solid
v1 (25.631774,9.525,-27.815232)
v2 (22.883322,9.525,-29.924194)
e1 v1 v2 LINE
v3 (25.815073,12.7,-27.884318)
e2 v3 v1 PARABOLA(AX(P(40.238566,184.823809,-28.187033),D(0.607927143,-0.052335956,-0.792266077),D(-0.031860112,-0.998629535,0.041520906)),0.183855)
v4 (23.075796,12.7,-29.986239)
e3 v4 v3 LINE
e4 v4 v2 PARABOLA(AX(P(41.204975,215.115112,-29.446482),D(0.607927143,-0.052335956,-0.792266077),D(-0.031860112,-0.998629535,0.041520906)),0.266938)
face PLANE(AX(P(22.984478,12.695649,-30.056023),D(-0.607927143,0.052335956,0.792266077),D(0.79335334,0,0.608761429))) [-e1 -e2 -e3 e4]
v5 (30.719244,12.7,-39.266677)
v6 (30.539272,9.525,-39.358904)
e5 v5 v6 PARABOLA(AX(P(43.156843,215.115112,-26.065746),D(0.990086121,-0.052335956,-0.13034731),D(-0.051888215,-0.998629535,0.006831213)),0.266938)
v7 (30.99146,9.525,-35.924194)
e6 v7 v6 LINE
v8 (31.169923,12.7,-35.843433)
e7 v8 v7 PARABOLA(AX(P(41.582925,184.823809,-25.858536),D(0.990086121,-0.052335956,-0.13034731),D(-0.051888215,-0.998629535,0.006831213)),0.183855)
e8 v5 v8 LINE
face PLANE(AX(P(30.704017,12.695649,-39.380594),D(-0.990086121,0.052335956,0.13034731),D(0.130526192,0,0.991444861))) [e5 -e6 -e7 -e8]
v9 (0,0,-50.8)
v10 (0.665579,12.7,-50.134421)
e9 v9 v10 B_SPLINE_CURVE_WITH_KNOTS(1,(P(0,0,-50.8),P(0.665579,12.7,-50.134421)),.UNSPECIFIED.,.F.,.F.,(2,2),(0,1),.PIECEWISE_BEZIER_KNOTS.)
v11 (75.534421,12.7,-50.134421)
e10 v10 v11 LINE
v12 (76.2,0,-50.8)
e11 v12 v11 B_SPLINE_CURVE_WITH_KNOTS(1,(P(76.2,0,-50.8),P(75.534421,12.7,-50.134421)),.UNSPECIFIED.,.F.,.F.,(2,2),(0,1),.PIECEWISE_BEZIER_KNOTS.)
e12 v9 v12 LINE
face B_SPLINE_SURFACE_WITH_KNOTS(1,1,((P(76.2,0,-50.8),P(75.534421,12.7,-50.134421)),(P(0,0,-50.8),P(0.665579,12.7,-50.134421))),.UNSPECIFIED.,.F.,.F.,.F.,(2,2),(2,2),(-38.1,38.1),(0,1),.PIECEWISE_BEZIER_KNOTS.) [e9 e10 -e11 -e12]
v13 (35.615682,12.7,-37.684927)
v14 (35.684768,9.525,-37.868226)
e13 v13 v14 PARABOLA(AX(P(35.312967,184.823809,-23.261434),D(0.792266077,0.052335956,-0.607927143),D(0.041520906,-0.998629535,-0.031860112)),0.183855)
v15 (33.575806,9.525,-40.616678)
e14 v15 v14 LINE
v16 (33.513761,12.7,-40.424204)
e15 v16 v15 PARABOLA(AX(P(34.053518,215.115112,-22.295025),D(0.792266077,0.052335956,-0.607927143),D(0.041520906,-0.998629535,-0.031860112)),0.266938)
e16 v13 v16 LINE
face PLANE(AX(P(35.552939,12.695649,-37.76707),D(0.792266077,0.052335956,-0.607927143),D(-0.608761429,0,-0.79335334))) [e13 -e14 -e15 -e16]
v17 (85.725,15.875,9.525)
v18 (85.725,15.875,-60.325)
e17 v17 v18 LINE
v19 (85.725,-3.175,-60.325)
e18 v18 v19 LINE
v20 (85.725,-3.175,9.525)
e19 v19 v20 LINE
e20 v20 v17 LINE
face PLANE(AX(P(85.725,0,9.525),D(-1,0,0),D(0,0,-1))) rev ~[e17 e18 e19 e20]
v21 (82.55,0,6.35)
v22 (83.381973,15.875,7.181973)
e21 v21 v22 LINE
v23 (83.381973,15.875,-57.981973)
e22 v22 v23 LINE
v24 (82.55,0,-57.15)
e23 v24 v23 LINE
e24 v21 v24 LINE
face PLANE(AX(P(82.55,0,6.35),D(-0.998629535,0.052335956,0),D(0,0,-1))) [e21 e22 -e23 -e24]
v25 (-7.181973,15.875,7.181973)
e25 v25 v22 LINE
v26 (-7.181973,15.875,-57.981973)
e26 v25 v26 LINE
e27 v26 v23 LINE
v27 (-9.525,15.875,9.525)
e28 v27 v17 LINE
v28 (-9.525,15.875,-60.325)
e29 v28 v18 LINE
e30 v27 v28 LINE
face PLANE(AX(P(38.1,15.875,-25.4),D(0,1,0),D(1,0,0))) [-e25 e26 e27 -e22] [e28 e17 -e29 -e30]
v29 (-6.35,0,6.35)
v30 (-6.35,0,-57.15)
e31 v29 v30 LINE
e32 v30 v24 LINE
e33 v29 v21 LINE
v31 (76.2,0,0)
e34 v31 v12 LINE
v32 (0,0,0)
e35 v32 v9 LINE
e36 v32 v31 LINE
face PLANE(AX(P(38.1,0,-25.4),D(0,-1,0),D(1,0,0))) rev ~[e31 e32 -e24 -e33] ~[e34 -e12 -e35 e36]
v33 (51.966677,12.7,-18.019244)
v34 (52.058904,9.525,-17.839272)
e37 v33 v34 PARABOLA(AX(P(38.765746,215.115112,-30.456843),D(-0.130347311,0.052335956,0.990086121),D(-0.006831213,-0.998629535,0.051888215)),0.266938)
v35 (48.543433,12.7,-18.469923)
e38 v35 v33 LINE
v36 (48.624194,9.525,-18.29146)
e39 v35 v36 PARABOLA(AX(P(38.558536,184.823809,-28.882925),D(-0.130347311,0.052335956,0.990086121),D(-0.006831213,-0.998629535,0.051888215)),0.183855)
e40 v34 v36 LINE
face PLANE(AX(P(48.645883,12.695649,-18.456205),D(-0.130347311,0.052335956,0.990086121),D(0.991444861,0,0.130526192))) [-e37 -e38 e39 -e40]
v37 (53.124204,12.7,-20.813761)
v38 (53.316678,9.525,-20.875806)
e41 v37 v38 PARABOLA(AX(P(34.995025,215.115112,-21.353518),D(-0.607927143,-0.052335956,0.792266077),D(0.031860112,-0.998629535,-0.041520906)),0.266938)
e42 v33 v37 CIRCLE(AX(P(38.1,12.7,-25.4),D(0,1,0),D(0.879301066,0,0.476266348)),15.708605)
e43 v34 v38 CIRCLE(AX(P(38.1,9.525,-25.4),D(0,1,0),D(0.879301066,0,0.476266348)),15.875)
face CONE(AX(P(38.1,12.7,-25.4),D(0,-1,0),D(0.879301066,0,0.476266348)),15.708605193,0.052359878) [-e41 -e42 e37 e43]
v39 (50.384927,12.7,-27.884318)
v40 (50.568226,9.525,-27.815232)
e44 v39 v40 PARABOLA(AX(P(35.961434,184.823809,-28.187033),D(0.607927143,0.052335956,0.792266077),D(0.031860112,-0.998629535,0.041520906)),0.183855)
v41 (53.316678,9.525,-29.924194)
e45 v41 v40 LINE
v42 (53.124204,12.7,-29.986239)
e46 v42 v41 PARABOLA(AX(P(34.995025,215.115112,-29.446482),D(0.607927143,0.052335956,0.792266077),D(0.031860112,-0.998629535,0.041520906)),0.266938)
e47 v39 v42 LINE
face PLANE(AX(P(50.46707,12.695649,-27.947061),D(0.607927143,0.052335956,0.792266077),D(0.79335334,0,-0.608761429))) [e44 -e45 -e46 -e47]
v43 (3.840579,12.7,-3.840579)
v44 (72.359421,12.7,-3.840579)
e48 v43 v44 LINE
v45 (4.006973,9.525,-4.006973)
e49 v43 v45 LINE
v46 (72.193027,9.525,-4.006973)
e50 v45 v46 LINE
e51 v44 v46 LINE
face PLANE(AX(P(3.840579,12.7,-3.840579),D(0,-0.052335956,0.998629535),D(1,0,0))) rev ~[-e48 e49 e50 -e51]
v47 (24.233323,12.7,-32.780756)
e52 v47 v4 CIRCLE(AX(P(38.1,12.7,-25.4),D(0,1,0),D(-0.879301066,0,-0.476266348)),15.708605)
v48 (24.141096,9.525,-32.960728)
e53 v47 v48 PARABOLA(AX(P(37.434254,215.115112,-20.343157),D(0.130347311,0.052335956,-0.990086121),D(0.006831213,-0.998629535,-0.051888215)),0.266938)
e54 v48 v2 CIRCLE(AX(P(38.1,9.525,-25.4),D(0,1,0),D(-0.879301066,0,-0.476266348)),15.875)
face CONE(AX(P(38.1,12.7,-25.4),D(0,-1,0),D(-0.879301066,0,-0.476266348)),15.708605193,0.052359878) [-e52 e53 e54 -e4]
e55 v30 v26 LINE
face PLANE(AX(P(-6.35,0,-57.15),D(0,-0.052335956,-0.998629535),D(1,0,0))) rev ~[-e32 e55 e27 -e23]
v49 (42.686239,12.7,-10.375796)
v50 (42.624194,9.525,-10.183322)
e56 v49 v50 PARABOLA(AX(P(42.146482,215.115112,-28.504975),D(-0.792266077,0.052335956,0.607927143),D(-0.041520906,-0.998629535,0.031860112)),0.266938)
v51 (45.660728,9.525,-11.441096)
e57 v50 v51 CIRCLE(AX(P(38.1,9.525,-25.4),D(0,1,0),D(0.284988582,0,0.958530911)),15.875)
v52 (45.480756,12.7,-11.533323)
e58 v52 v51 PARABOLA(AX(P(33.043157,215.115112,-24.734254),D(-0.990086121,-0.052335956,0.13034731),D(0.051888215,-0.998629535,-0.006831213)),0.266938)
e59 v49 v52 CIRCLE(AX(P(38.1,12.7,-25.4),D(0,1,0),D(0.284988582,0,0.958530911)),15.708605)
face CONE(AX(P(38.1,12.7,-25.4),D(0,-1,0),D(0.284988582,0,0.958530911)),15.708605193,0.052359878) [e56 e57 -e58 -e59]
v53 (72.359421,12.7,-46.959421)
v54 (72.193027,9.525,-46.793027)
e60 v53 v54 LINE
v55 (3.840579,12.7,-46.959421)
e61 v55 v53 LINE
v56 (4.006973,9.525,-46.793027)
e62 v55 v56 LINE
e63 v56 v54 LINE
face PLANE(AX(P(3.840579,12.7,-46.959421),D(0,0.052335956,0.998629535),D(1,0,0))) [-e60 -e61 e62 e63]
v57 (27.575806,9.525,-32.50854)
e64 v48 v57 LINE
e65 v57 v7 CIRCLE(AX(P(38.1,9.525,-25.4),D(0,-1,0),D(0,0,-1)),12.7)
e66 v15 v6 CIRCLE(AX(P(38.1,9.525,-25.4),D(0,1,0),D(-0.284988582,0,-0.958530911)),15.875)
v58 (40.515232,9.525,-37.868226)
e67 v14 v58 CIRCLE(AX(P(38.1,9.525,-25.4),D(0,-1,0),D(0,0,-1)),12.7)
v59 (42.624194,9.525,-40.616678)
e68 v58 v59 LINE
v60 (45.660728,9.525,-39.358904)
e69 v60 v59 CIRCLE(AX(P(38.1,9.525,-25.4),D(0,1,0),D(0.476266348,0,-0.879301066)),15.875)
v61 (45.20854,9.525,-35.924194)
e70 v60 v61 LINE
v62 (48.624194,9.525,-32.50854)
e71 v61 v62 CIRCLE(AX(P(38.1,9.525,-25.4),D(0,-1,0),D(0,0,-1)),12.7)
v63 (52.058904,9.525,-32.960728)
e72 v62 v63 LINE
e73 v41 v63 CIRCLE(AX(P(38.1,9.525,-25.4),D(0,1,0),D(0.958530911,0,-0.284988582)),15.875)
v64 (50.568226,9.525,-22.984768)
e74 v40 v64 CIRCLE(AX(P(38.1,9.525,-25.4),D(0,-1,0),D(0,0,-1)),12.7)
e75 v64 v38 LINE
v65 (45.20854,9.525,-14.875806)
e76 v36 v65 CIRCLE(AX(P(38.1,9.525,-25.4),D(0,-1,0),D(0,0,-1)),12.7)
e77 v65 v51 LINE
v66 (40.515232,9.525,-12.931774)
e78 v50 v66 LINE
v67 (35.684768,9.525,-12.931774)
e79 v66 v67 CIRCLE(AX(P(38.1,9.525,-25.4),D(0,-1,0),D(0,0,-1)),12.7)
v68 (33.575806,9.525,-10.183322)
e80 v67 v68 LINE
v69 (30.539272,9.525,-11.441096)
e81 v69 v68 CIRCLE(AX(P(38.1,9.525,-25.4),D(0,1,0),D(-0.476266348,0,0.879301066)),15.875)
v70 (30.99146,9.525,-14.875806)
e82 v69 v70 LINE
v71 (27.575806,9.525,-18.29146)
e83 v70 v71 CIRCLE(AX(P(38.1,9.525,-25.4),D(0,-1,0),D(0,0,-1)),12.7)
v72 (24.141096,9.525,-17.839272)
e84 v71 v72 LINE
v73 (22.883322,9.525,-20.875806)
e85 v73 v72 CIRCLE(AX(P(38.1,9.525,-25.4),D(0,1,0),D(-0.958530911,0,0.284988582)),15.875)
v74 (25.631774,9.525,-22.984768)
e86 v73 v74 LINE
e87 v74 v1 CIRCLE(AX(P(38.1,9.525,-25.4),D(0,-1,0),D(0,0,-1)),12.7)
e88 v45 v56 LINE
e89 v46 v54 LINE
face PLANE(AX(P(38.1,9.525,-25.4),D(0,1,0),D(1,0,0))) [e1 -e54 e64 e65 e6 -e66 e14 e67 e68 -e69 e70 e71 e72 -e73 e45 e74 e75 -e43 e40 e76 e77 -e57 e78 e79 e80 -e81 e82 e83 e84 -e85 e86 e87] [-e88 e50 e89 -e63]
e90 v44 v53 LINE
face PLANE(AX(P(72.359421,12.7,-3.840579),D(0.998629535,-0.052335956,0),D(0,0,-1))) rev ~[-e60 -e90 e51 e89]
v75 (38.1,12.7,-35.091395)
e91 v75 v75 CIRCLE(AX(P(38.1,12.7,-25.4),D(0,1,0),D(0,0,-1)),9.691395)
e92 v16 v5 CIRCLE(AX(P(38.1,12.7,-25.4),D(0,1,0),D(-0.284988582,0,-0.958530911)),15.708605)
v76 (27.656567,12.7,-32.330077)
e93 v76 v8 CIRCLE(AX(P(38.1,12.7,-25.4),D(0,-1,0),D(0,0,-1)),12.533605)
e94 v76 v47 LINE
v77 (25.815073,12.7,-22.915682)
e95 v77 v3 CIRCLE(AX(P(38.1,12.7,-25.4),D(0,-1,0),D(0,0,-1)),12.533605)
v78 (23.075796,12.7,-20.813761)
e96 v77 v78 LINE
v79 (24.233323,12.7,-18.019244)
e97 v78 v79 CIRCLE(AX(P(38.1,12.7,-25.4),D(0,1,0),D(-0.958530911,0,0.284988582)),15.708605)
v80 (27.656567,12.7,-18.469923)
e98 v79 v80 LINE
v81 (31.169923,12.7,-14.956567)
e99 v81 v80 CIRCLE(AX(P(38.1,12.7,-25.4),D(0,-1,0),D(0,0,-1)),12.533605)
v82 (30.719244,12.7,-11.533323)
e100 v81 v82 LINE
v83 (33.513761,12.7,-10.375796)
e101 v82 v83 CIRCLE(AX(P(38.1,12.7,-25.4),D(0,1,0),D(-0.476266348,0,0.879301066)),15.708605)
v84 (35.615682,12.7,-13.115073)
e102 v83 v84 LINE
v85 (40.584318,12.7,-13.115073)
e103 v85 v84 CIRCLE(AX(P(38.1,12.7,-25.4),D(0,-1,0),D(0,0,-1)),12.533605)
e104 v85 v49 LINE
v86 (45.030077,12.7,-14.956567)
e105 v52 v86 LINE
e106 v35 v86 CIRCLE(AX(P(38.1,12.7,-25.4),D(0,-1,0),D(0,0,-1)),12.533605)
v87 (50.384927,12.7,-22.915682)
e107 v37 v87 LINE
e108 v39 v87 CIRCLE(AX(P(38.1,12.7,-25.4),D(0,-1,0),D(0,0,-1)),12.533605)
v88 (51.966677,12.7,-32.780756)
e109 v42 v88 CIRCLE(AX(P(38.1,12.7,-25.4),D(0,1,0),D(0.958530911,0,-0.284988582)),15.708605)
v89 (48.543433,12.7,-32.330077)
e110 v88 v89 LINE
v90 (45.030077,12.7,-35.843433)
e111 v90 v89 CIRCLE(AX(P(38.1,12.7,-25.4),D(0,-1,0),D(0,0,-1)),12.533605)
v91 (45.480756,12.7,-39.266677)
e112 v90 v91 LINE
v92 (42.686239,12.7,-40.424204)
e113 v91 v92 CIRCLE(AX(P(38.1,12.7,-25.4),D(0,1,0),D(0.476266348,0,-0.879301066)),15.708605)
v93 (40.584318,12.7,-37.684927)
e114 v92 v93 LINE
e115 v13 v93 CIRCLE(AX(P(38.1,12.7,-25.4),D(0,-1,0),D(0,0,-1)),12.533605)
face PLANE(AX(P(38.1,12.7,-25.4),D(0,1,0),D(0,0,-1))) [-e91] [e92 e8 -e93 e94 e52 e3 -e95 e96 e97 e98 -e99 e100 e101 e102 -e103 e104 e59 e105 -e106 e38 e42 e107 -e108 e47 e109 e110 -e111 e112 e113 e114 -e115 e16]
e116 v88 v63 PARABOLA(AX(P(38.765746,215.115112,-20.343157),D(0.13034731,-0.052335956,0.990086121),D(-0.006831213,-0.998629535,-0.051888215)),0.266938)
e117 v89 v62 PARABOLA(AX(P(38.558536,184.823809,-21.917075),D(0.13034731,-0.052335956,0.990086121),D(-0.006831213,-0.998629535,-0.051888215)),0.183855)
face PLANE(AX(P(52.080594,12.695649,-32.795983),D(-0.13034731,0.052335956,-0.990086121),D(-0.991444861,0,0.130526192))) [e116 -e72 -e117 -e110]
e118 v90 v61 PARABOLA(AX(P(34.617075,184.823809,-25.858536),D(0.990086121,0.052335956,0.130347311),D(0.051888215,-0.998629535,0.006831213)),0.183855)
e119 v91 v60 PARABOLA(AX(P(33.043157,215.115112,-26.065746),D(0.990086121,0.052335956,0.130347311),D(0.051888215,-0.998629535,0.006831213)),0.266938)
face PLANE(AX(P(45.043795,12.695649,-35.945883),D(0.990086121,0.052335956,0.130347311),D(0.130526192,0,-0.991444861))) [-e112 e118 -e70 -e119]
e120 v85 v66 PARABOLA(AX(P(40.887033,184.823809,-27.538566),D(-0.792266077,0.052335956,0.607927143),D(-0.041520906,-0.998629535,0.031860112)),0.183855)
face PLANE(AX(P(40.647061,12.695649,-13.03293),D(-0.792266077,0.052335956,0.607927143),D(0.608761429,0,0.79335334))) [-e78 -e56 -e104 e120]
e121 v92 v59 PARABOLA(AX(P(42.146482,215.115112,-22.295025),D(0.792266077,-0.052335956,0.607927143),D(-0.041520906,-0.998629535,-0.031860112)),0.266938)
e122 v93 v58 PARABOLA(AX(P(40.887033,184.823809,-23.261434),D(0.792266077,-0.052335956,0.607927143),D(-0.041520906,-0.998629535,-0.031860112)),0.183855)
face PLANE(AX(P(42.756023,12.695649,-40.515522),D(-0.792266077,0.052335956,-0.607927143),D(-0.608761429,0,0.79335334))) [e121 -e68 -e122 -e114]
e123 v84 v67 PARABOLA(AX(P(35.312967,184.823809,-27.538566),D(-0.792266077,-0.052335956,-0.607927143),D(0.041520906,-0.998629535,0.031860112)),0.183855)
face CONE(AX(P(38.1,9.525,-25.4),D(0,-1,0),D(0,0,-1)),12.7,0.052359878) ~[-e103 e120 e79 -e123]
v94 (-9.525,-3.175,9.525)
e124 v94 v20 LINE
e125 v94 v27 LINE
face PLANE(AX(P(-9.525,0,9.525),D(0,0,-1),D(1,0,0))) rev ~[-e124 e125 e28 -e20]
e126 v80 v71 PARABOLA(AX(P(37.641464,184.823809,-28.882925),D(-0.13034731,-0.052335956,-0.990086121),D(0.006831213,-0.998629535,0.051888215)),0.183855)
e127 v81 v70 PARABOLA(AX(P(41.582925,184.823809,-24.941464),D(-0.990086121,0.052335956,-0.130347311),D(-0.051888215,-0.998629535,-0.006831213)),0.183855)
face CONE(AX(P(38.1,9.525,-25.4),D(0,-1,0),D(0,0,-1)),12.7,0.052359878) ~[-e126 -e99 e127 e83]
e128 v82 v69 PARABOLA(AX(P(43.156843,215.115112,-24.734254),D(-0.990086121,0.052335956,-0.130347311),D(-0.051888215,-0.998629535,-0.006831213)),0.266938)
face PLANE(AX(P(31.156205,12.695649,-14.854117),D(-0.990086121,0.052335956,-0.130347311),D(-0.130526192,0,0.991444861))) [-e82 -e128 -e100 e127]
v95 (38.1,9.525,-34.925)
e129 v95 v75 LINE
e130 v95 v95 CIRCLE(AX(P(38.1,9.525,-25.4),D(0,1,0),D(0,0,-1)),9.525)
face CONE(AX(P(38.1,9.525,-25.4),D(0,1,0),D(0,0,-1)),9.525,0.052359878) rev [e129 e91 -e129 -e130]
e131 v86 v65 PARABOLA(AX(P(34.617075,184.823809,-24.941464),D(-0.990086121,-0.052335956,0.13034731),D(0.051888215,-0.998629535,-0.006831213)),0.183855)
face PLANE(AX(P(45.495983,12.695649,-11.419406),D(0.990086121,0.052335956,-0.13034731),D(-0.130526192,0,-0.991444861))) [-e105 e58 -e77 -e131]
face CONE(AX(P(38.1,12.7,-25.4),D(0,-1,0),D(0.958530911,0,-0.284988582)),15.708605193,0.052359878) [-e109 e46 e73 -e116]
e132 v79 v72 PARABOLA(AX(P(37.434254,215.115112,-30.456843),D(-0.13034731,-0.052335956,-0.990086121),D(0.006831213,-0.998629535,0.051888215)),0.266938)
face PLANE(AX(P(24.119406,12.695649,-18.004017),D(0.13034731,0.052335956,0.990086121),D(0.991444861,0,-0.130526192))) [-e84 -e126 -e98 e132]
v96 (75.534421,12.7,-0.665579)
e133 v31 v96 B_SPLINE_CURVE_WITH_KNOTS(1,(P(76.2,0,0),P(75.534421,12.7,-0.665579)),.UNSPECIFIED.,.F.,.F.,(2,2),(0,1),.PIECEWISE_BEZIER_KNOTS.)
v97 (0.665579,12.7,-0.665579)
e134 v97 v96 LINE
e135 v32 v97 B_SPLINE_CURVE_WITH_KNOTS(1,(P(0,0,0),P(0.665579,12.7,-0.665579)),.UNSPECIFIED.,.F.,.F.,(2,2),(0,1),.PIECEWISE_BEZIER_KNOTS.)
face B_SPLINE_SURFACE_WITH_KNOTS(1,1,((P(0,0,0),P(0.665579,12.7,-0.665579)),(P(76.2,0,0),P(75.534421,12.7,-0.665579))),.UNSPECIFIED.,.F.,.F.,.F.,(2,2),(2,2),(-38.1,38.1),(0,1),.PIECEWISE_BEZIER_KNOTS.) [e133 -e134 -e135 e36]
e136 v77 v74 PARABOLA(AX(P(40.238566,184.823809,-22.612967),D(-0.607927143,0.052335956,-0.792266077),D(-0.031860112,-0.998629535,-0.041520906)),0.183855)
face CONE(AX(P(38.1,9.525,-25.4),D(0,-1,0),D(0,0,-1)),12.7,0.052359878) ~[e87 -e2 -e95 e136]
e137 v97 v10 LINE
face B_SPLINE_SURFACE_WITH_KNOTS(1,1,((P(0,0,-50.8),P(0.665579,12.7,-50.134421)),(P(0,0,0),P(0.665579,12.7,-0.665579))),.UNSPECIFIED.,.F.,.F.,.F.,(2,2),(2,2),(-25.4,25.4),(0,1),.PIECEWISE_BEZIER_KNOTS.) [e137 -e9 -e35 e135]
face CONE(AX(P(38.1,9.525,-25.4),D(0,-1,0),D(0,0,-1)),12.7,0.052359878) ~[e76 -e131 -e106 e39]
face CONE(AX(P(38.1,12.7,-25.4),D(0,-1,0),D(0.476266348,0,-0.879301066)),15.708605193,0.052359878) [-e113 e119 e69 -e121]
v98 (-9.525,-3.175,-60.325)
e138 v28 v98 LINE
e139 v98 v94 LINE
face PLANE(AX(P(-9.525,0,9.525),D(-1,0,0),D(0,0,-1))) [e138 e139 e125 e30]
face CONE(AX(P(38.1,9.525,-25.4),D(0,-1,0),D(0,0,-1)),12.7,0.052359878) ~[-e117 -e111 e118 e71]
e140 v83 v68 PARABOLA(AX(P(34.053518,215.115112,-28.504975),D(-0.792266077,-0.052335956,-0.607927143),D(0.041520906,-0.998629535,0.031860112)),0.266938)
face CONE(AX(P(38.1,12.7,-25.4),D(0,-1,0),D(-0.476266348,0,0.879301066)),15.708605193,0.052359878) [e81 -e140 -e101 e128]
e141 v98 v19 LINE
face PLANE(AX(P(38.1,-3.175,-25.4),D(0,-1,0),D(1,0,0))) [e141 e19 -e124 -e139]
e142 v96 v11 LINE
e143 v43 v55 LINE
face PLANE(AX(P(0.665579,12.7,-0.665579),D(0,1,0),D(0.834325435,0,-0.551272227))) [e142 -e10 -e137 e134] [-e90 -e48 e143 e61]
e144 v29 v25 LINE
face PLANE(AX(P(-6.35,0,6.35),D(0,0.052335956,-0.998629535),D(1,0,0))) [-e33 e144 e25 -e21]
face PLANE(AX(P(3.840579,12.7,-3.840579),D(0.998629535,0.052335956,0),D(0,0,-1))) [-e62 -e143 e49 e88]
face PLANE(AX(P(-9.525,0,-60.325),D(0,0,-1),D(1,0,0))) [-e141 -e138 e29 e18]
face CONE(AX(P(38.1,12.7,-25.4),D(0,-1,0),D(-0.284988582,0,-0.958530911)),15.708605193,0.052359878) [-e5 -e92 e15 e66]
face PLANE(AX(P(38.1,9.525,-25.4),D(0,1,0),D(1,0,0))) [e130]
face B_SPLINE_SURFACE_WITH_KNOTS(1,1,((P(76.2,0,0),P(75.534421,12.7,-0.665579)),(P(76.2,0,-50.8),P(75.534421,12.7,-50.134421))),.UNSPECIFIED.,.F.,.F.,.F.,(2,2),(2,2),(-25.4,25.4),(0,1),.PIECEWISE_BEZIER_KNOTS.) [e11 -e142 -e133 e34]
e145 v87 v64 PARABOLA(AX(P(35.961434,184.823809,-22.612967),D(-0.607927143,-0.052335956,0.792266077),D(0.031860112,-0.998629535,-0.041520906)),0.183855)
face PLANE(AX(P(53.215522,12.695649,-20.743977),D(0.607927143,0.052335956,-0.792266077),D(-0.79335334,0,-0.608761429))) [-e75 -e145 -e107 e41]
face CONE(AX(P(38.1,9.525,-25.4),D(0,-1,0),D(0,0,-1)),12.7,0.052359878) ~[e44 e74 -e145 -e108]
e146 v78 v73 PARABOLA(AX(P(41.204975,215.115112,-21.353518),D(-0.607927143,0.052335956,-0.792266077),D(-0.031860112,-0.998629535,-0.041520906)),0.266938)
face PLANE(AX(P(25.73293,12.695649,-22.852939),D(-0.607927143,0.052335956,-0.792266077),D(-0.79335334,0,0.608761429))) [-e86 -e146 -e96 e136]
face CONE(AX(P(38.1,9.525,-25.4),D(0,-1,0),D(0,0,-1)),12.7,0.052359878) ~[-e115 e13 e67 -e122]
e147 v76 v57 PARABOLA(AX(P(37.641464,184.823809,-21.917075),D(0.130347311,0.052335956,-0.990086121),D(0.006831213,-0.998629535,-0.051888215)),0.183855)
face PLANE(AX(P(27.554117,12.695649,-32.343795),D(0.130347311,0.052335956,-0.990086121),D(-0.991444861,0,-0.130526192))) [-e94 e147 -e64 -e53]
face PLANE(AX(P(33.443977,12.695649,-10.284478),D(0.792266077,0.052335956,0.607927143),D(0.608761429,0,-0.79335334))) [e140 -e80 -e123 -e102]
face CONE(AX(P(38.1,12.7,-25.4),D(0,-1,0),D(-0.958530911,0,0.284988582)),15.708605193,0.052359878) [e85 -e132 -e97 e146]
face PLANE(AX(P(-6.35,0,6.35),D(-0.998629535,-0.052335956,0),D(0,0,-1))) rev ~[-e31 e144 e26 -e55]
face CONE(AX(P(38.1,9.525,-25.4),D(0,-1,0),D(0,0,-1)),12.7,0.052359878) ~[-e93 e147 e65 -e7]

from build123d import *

# Parameters (mm, degrees)
SKETCH1_W           = 76.2
SKETCH1_H           = 50.8
BOSS_EXTRUDE1_DEPTH = 12.7
BOSS_EXTRUDE1_TAPER = 3
SKETCH2_W           = 95.25
SKETCH2_H           = 69.85
BOSS_EXTRUDE2_DEPTH = 3.175
SKETCH3_W           = 95.25
SKETCH3_H           = 69.85
SKETCH3_W_2         = 88.9
SKETCH3_H_2         = 63.5
BOSS_EXTRUDE3_DEPTH = 15.875
DRAFT1_ANGLE        = 3
SKETCH4_W           = 68.518842406
SKETCH4_H           = 43.118842406
CUT_EXTRUDE1_DEPTH  = 3.175
CUT_EXTRUDE1_DRAFT  = -3
SKETCH6_R           = 12.7
SKETCH6_R_2         = 9.525
BOSS_EXTRUDE5_DEPTH = 3.175
BOSS_EXTRUDE6_REACH = 108.018
CIRPATTERN1_COUNT   = 8
DRAFT2_ANGLE        = 3


with BuildPart() as part:
    # Sketch1 → Boss-Extrude1 (new body)
    with BuildSketch(Plane(origin=(0, 0, 0), x_dir=(1, 0, 0), z_dir=(0, 1, 0))):
        with Locations((38.1, 25.4)):
            Rectangle(SKETCH1_W, SKETCH1_H)
    extrude(amount=BOSS_EXTRUDE1_DEPTH, taper=BOSS_EXTRUDE1_TAPER)

    # Sketch2 → Boss-Extrude2 (add)
    with BuildSketch(Plane.XZ):
        with Locations((38.1, -25.4)):
            Rectangle(SKETCH2_W, SKETCH2_H)
    extrude(amount=BOSS_EXTRUDE2_DEPTH)

    # Sketch3 → Boss-Extrude3 (add)
    with BuildSketch(Plane(origin=(0, 0, 0), x_dir=(1, 0, 0), z_dir=(0, 1, 0))):
        with Locations((38.1, 25.4)):
            Rectangle(SKETCH3_W, SKETCH3_H)
        with Locations((38.1, 25.4)):
            Rectangle(SKETCH3_W_2, SKETCH3_H_2, mode=Mode.SUBTRACT)
    extrude(amount=BOSS_EXTRUDE3_DEPTH)

    # Draft1
    draft1_faces = [part.faces().sort_by_distance(p)[0] for p in [
        (82.55, 7.9375, -25.4),
        (38.1, 7.9375, -57.15),
        (38.1, 7.9375, 6.35),
        (-6.35, 7.9375, -25.4),
    ]]
    draft(draft1_faces, Plane.ZX, DRAFT1_ANGLE)


with BuildPart() as cut_extrude1_tool:
    # Sketch4 → Cut-Extrude1 (with draft: the straight prism first)
    with BuildSketch(Plane(origin=(0, 12.7, 0), x_dir=(1, 0, 0), z_dir=(0, 1, 0))):
        with Locations((38.1, 25.4)):
            Rectangle(SKETCH4_W, SKETCH4_H)
    extrude(amount=-CUT_EXTRUDE1_DEPTH)
    # Cut-Extrude1: the draft: its side faces are tilted about the plane it starts from
    cut_extrude1_sides = [cut_extrude1_tool.faces().sort_by_distance(p)[0] for p in [
        (3.840578797, 11.1125, -25.4),
        (38.1, 11.1125, -3.840578797),
        (72.359421203, 11.1125, -25.4),
        (38.1, 11.1125, -46.959421203),
    ]]
    draft(cut_extrude1_sides, Plane(origin=(0, 12.7, 0), x_dir=(1, 0, 0), z_dir=(0, 1, 0)), CUT_EXTRUDE1_DRAFT)


with BuildPart() as part_1:
    add(part.part)

    # Cut-Extrude1: cut by cut_extrude1_tool
    add(cut_extrude1_tool.part, mode=Mode.SUBTRACT)

    # Sketch6 → Boss-Extrude5 (add)
    with BuildSketch(Plane(origin=(0, 9.525, 0), x_dir=(1, 0, 0), z_dir=(0, 1, 0))):
        with Locations(Location((38.1, 25.4, 0), (0, 0, 90))):
            Circle(SKETCH6_R)
        with Locations(Location((38.1, 25.4, 0), (0, 0, 90))):
            Circle(SKETCH6_R_2, mode=Mode.SUBTRACT)
    extrude(amount=BOSS_EXTRUDE5_DEPTH)

    # Sketch7 → Boss-Extrude6 (add, up to next)
    with BuildSketch(Plane(origin=(0, 12.7, 0), x_dir=(1, 0, 0), z_dir=(0, 1, 0)), mode=Mode.PRIVATE) as boss_extrude6_sk1:
        with BuildLine():
            Line((42.624193754, 40.616678214), (40.51523203, 37.868225786))
            ThreePointArc((40.51523203, 37.868225786), (42.960079591, 37.133270063), (45.208540056, 35.924193949))
            Line((45.208540056, 35.924193949), (45.66072827, 39.358904435))
            ThreePointArc((45.66072827, 39.358904435), (44.175099489, 40.066587579), (42.624193754, 40.616678214))
        make_face()
    boss_extrude6_tool1 = extrude(boss_extrude6_sk1.sketch, amount=-BOSS_EXTRUDE6_REACH, mode=Mode.PRIVATE) - part_1.part
    boss_extrude6 = boss_extrude6_tool1.solids().sort_by_distance((43.502556, 12.7, -38.442924))[0]
    add(boss_extrude6)

    # CirPattern1: Boss-Extrude6 ×8 about axis
    cirpattern1_axis = Axis((38.1, 0, -25.4), (0, 1, 0))
    for i in range(1, CIRPATTERN1_COUNT):
        add(boss_extrude6.rotate(cirpattern1_axis, i * 360 / CIRPATTERN1_COUNT))

    # Draft2
    draft2_faces = [part_1.faces().sort_by_distance(p)[0] for p in [
        (30.765365837, 11.1125, -37.641549192),
        (32.024900511, 11.1125, -40.066587579),
        (34.630287108, 11.1125, -39.242452),
        (50.8, 11.1125, -25.4),
        (38.1, 11.1125, -15.875),
        (47.080256121, 11.1125, -34.380256121),
        (45.434634163, 11.1125, -37.641549192),
        (44.175099489, 11.1125, -40.066587579),
        (41.569712892, 11.1125, -39.242452),
        (38.1, 11.1125, -38.1),
        (51.942452, 11.1125, -28.869712892),
        (52.766587579, 11.1125, -31.475099489),
        (50.341549192, 11.1125, -32.734634163),
        (47.080256121, 11.1125, -16.419743879),
        (50.341549192, 11.1125, -18.065365837),
        (41.569712892, 11.1125, -11.557548),
        (52.766587579, 11.1125, -19.324900511),
        (51.942452, 11.1125, -21.930287108),
        (38.1, 11.1125, -12.7),
        (44.175099489, 11.1125, -10.733412421),
        (45.434634163, 11.1125, -13.158450808),
        (29.119743879, 11.1125, -16.419743879),
        (30.765365837, 11.1125, -13.158450808),
        (32.024900511, 11.1125, -10.733412421),
        (34.630287108, 11.1125, -11.557548),
        (25.4, 11.1125, -25.4),
        (24.257548, 11.1125, -21.930287108),
        (23.433412421, 11.1125, -19.324900511),
        (25.858450808, 11.1125, -18.065365837),
        (29.119743879, 11.1125, -34.380256121),
        (25.858450808, 11.1125, -32.734634163),
        (23.433412421, 11.1125, -31.475099489),
        (24.257548, 11.1125, -28.869712892),
    ]]
    draft(draft2_faces, Plane.ZX.offset(9.525), DRAFT2_ANGLE)


solid = part_1.part
